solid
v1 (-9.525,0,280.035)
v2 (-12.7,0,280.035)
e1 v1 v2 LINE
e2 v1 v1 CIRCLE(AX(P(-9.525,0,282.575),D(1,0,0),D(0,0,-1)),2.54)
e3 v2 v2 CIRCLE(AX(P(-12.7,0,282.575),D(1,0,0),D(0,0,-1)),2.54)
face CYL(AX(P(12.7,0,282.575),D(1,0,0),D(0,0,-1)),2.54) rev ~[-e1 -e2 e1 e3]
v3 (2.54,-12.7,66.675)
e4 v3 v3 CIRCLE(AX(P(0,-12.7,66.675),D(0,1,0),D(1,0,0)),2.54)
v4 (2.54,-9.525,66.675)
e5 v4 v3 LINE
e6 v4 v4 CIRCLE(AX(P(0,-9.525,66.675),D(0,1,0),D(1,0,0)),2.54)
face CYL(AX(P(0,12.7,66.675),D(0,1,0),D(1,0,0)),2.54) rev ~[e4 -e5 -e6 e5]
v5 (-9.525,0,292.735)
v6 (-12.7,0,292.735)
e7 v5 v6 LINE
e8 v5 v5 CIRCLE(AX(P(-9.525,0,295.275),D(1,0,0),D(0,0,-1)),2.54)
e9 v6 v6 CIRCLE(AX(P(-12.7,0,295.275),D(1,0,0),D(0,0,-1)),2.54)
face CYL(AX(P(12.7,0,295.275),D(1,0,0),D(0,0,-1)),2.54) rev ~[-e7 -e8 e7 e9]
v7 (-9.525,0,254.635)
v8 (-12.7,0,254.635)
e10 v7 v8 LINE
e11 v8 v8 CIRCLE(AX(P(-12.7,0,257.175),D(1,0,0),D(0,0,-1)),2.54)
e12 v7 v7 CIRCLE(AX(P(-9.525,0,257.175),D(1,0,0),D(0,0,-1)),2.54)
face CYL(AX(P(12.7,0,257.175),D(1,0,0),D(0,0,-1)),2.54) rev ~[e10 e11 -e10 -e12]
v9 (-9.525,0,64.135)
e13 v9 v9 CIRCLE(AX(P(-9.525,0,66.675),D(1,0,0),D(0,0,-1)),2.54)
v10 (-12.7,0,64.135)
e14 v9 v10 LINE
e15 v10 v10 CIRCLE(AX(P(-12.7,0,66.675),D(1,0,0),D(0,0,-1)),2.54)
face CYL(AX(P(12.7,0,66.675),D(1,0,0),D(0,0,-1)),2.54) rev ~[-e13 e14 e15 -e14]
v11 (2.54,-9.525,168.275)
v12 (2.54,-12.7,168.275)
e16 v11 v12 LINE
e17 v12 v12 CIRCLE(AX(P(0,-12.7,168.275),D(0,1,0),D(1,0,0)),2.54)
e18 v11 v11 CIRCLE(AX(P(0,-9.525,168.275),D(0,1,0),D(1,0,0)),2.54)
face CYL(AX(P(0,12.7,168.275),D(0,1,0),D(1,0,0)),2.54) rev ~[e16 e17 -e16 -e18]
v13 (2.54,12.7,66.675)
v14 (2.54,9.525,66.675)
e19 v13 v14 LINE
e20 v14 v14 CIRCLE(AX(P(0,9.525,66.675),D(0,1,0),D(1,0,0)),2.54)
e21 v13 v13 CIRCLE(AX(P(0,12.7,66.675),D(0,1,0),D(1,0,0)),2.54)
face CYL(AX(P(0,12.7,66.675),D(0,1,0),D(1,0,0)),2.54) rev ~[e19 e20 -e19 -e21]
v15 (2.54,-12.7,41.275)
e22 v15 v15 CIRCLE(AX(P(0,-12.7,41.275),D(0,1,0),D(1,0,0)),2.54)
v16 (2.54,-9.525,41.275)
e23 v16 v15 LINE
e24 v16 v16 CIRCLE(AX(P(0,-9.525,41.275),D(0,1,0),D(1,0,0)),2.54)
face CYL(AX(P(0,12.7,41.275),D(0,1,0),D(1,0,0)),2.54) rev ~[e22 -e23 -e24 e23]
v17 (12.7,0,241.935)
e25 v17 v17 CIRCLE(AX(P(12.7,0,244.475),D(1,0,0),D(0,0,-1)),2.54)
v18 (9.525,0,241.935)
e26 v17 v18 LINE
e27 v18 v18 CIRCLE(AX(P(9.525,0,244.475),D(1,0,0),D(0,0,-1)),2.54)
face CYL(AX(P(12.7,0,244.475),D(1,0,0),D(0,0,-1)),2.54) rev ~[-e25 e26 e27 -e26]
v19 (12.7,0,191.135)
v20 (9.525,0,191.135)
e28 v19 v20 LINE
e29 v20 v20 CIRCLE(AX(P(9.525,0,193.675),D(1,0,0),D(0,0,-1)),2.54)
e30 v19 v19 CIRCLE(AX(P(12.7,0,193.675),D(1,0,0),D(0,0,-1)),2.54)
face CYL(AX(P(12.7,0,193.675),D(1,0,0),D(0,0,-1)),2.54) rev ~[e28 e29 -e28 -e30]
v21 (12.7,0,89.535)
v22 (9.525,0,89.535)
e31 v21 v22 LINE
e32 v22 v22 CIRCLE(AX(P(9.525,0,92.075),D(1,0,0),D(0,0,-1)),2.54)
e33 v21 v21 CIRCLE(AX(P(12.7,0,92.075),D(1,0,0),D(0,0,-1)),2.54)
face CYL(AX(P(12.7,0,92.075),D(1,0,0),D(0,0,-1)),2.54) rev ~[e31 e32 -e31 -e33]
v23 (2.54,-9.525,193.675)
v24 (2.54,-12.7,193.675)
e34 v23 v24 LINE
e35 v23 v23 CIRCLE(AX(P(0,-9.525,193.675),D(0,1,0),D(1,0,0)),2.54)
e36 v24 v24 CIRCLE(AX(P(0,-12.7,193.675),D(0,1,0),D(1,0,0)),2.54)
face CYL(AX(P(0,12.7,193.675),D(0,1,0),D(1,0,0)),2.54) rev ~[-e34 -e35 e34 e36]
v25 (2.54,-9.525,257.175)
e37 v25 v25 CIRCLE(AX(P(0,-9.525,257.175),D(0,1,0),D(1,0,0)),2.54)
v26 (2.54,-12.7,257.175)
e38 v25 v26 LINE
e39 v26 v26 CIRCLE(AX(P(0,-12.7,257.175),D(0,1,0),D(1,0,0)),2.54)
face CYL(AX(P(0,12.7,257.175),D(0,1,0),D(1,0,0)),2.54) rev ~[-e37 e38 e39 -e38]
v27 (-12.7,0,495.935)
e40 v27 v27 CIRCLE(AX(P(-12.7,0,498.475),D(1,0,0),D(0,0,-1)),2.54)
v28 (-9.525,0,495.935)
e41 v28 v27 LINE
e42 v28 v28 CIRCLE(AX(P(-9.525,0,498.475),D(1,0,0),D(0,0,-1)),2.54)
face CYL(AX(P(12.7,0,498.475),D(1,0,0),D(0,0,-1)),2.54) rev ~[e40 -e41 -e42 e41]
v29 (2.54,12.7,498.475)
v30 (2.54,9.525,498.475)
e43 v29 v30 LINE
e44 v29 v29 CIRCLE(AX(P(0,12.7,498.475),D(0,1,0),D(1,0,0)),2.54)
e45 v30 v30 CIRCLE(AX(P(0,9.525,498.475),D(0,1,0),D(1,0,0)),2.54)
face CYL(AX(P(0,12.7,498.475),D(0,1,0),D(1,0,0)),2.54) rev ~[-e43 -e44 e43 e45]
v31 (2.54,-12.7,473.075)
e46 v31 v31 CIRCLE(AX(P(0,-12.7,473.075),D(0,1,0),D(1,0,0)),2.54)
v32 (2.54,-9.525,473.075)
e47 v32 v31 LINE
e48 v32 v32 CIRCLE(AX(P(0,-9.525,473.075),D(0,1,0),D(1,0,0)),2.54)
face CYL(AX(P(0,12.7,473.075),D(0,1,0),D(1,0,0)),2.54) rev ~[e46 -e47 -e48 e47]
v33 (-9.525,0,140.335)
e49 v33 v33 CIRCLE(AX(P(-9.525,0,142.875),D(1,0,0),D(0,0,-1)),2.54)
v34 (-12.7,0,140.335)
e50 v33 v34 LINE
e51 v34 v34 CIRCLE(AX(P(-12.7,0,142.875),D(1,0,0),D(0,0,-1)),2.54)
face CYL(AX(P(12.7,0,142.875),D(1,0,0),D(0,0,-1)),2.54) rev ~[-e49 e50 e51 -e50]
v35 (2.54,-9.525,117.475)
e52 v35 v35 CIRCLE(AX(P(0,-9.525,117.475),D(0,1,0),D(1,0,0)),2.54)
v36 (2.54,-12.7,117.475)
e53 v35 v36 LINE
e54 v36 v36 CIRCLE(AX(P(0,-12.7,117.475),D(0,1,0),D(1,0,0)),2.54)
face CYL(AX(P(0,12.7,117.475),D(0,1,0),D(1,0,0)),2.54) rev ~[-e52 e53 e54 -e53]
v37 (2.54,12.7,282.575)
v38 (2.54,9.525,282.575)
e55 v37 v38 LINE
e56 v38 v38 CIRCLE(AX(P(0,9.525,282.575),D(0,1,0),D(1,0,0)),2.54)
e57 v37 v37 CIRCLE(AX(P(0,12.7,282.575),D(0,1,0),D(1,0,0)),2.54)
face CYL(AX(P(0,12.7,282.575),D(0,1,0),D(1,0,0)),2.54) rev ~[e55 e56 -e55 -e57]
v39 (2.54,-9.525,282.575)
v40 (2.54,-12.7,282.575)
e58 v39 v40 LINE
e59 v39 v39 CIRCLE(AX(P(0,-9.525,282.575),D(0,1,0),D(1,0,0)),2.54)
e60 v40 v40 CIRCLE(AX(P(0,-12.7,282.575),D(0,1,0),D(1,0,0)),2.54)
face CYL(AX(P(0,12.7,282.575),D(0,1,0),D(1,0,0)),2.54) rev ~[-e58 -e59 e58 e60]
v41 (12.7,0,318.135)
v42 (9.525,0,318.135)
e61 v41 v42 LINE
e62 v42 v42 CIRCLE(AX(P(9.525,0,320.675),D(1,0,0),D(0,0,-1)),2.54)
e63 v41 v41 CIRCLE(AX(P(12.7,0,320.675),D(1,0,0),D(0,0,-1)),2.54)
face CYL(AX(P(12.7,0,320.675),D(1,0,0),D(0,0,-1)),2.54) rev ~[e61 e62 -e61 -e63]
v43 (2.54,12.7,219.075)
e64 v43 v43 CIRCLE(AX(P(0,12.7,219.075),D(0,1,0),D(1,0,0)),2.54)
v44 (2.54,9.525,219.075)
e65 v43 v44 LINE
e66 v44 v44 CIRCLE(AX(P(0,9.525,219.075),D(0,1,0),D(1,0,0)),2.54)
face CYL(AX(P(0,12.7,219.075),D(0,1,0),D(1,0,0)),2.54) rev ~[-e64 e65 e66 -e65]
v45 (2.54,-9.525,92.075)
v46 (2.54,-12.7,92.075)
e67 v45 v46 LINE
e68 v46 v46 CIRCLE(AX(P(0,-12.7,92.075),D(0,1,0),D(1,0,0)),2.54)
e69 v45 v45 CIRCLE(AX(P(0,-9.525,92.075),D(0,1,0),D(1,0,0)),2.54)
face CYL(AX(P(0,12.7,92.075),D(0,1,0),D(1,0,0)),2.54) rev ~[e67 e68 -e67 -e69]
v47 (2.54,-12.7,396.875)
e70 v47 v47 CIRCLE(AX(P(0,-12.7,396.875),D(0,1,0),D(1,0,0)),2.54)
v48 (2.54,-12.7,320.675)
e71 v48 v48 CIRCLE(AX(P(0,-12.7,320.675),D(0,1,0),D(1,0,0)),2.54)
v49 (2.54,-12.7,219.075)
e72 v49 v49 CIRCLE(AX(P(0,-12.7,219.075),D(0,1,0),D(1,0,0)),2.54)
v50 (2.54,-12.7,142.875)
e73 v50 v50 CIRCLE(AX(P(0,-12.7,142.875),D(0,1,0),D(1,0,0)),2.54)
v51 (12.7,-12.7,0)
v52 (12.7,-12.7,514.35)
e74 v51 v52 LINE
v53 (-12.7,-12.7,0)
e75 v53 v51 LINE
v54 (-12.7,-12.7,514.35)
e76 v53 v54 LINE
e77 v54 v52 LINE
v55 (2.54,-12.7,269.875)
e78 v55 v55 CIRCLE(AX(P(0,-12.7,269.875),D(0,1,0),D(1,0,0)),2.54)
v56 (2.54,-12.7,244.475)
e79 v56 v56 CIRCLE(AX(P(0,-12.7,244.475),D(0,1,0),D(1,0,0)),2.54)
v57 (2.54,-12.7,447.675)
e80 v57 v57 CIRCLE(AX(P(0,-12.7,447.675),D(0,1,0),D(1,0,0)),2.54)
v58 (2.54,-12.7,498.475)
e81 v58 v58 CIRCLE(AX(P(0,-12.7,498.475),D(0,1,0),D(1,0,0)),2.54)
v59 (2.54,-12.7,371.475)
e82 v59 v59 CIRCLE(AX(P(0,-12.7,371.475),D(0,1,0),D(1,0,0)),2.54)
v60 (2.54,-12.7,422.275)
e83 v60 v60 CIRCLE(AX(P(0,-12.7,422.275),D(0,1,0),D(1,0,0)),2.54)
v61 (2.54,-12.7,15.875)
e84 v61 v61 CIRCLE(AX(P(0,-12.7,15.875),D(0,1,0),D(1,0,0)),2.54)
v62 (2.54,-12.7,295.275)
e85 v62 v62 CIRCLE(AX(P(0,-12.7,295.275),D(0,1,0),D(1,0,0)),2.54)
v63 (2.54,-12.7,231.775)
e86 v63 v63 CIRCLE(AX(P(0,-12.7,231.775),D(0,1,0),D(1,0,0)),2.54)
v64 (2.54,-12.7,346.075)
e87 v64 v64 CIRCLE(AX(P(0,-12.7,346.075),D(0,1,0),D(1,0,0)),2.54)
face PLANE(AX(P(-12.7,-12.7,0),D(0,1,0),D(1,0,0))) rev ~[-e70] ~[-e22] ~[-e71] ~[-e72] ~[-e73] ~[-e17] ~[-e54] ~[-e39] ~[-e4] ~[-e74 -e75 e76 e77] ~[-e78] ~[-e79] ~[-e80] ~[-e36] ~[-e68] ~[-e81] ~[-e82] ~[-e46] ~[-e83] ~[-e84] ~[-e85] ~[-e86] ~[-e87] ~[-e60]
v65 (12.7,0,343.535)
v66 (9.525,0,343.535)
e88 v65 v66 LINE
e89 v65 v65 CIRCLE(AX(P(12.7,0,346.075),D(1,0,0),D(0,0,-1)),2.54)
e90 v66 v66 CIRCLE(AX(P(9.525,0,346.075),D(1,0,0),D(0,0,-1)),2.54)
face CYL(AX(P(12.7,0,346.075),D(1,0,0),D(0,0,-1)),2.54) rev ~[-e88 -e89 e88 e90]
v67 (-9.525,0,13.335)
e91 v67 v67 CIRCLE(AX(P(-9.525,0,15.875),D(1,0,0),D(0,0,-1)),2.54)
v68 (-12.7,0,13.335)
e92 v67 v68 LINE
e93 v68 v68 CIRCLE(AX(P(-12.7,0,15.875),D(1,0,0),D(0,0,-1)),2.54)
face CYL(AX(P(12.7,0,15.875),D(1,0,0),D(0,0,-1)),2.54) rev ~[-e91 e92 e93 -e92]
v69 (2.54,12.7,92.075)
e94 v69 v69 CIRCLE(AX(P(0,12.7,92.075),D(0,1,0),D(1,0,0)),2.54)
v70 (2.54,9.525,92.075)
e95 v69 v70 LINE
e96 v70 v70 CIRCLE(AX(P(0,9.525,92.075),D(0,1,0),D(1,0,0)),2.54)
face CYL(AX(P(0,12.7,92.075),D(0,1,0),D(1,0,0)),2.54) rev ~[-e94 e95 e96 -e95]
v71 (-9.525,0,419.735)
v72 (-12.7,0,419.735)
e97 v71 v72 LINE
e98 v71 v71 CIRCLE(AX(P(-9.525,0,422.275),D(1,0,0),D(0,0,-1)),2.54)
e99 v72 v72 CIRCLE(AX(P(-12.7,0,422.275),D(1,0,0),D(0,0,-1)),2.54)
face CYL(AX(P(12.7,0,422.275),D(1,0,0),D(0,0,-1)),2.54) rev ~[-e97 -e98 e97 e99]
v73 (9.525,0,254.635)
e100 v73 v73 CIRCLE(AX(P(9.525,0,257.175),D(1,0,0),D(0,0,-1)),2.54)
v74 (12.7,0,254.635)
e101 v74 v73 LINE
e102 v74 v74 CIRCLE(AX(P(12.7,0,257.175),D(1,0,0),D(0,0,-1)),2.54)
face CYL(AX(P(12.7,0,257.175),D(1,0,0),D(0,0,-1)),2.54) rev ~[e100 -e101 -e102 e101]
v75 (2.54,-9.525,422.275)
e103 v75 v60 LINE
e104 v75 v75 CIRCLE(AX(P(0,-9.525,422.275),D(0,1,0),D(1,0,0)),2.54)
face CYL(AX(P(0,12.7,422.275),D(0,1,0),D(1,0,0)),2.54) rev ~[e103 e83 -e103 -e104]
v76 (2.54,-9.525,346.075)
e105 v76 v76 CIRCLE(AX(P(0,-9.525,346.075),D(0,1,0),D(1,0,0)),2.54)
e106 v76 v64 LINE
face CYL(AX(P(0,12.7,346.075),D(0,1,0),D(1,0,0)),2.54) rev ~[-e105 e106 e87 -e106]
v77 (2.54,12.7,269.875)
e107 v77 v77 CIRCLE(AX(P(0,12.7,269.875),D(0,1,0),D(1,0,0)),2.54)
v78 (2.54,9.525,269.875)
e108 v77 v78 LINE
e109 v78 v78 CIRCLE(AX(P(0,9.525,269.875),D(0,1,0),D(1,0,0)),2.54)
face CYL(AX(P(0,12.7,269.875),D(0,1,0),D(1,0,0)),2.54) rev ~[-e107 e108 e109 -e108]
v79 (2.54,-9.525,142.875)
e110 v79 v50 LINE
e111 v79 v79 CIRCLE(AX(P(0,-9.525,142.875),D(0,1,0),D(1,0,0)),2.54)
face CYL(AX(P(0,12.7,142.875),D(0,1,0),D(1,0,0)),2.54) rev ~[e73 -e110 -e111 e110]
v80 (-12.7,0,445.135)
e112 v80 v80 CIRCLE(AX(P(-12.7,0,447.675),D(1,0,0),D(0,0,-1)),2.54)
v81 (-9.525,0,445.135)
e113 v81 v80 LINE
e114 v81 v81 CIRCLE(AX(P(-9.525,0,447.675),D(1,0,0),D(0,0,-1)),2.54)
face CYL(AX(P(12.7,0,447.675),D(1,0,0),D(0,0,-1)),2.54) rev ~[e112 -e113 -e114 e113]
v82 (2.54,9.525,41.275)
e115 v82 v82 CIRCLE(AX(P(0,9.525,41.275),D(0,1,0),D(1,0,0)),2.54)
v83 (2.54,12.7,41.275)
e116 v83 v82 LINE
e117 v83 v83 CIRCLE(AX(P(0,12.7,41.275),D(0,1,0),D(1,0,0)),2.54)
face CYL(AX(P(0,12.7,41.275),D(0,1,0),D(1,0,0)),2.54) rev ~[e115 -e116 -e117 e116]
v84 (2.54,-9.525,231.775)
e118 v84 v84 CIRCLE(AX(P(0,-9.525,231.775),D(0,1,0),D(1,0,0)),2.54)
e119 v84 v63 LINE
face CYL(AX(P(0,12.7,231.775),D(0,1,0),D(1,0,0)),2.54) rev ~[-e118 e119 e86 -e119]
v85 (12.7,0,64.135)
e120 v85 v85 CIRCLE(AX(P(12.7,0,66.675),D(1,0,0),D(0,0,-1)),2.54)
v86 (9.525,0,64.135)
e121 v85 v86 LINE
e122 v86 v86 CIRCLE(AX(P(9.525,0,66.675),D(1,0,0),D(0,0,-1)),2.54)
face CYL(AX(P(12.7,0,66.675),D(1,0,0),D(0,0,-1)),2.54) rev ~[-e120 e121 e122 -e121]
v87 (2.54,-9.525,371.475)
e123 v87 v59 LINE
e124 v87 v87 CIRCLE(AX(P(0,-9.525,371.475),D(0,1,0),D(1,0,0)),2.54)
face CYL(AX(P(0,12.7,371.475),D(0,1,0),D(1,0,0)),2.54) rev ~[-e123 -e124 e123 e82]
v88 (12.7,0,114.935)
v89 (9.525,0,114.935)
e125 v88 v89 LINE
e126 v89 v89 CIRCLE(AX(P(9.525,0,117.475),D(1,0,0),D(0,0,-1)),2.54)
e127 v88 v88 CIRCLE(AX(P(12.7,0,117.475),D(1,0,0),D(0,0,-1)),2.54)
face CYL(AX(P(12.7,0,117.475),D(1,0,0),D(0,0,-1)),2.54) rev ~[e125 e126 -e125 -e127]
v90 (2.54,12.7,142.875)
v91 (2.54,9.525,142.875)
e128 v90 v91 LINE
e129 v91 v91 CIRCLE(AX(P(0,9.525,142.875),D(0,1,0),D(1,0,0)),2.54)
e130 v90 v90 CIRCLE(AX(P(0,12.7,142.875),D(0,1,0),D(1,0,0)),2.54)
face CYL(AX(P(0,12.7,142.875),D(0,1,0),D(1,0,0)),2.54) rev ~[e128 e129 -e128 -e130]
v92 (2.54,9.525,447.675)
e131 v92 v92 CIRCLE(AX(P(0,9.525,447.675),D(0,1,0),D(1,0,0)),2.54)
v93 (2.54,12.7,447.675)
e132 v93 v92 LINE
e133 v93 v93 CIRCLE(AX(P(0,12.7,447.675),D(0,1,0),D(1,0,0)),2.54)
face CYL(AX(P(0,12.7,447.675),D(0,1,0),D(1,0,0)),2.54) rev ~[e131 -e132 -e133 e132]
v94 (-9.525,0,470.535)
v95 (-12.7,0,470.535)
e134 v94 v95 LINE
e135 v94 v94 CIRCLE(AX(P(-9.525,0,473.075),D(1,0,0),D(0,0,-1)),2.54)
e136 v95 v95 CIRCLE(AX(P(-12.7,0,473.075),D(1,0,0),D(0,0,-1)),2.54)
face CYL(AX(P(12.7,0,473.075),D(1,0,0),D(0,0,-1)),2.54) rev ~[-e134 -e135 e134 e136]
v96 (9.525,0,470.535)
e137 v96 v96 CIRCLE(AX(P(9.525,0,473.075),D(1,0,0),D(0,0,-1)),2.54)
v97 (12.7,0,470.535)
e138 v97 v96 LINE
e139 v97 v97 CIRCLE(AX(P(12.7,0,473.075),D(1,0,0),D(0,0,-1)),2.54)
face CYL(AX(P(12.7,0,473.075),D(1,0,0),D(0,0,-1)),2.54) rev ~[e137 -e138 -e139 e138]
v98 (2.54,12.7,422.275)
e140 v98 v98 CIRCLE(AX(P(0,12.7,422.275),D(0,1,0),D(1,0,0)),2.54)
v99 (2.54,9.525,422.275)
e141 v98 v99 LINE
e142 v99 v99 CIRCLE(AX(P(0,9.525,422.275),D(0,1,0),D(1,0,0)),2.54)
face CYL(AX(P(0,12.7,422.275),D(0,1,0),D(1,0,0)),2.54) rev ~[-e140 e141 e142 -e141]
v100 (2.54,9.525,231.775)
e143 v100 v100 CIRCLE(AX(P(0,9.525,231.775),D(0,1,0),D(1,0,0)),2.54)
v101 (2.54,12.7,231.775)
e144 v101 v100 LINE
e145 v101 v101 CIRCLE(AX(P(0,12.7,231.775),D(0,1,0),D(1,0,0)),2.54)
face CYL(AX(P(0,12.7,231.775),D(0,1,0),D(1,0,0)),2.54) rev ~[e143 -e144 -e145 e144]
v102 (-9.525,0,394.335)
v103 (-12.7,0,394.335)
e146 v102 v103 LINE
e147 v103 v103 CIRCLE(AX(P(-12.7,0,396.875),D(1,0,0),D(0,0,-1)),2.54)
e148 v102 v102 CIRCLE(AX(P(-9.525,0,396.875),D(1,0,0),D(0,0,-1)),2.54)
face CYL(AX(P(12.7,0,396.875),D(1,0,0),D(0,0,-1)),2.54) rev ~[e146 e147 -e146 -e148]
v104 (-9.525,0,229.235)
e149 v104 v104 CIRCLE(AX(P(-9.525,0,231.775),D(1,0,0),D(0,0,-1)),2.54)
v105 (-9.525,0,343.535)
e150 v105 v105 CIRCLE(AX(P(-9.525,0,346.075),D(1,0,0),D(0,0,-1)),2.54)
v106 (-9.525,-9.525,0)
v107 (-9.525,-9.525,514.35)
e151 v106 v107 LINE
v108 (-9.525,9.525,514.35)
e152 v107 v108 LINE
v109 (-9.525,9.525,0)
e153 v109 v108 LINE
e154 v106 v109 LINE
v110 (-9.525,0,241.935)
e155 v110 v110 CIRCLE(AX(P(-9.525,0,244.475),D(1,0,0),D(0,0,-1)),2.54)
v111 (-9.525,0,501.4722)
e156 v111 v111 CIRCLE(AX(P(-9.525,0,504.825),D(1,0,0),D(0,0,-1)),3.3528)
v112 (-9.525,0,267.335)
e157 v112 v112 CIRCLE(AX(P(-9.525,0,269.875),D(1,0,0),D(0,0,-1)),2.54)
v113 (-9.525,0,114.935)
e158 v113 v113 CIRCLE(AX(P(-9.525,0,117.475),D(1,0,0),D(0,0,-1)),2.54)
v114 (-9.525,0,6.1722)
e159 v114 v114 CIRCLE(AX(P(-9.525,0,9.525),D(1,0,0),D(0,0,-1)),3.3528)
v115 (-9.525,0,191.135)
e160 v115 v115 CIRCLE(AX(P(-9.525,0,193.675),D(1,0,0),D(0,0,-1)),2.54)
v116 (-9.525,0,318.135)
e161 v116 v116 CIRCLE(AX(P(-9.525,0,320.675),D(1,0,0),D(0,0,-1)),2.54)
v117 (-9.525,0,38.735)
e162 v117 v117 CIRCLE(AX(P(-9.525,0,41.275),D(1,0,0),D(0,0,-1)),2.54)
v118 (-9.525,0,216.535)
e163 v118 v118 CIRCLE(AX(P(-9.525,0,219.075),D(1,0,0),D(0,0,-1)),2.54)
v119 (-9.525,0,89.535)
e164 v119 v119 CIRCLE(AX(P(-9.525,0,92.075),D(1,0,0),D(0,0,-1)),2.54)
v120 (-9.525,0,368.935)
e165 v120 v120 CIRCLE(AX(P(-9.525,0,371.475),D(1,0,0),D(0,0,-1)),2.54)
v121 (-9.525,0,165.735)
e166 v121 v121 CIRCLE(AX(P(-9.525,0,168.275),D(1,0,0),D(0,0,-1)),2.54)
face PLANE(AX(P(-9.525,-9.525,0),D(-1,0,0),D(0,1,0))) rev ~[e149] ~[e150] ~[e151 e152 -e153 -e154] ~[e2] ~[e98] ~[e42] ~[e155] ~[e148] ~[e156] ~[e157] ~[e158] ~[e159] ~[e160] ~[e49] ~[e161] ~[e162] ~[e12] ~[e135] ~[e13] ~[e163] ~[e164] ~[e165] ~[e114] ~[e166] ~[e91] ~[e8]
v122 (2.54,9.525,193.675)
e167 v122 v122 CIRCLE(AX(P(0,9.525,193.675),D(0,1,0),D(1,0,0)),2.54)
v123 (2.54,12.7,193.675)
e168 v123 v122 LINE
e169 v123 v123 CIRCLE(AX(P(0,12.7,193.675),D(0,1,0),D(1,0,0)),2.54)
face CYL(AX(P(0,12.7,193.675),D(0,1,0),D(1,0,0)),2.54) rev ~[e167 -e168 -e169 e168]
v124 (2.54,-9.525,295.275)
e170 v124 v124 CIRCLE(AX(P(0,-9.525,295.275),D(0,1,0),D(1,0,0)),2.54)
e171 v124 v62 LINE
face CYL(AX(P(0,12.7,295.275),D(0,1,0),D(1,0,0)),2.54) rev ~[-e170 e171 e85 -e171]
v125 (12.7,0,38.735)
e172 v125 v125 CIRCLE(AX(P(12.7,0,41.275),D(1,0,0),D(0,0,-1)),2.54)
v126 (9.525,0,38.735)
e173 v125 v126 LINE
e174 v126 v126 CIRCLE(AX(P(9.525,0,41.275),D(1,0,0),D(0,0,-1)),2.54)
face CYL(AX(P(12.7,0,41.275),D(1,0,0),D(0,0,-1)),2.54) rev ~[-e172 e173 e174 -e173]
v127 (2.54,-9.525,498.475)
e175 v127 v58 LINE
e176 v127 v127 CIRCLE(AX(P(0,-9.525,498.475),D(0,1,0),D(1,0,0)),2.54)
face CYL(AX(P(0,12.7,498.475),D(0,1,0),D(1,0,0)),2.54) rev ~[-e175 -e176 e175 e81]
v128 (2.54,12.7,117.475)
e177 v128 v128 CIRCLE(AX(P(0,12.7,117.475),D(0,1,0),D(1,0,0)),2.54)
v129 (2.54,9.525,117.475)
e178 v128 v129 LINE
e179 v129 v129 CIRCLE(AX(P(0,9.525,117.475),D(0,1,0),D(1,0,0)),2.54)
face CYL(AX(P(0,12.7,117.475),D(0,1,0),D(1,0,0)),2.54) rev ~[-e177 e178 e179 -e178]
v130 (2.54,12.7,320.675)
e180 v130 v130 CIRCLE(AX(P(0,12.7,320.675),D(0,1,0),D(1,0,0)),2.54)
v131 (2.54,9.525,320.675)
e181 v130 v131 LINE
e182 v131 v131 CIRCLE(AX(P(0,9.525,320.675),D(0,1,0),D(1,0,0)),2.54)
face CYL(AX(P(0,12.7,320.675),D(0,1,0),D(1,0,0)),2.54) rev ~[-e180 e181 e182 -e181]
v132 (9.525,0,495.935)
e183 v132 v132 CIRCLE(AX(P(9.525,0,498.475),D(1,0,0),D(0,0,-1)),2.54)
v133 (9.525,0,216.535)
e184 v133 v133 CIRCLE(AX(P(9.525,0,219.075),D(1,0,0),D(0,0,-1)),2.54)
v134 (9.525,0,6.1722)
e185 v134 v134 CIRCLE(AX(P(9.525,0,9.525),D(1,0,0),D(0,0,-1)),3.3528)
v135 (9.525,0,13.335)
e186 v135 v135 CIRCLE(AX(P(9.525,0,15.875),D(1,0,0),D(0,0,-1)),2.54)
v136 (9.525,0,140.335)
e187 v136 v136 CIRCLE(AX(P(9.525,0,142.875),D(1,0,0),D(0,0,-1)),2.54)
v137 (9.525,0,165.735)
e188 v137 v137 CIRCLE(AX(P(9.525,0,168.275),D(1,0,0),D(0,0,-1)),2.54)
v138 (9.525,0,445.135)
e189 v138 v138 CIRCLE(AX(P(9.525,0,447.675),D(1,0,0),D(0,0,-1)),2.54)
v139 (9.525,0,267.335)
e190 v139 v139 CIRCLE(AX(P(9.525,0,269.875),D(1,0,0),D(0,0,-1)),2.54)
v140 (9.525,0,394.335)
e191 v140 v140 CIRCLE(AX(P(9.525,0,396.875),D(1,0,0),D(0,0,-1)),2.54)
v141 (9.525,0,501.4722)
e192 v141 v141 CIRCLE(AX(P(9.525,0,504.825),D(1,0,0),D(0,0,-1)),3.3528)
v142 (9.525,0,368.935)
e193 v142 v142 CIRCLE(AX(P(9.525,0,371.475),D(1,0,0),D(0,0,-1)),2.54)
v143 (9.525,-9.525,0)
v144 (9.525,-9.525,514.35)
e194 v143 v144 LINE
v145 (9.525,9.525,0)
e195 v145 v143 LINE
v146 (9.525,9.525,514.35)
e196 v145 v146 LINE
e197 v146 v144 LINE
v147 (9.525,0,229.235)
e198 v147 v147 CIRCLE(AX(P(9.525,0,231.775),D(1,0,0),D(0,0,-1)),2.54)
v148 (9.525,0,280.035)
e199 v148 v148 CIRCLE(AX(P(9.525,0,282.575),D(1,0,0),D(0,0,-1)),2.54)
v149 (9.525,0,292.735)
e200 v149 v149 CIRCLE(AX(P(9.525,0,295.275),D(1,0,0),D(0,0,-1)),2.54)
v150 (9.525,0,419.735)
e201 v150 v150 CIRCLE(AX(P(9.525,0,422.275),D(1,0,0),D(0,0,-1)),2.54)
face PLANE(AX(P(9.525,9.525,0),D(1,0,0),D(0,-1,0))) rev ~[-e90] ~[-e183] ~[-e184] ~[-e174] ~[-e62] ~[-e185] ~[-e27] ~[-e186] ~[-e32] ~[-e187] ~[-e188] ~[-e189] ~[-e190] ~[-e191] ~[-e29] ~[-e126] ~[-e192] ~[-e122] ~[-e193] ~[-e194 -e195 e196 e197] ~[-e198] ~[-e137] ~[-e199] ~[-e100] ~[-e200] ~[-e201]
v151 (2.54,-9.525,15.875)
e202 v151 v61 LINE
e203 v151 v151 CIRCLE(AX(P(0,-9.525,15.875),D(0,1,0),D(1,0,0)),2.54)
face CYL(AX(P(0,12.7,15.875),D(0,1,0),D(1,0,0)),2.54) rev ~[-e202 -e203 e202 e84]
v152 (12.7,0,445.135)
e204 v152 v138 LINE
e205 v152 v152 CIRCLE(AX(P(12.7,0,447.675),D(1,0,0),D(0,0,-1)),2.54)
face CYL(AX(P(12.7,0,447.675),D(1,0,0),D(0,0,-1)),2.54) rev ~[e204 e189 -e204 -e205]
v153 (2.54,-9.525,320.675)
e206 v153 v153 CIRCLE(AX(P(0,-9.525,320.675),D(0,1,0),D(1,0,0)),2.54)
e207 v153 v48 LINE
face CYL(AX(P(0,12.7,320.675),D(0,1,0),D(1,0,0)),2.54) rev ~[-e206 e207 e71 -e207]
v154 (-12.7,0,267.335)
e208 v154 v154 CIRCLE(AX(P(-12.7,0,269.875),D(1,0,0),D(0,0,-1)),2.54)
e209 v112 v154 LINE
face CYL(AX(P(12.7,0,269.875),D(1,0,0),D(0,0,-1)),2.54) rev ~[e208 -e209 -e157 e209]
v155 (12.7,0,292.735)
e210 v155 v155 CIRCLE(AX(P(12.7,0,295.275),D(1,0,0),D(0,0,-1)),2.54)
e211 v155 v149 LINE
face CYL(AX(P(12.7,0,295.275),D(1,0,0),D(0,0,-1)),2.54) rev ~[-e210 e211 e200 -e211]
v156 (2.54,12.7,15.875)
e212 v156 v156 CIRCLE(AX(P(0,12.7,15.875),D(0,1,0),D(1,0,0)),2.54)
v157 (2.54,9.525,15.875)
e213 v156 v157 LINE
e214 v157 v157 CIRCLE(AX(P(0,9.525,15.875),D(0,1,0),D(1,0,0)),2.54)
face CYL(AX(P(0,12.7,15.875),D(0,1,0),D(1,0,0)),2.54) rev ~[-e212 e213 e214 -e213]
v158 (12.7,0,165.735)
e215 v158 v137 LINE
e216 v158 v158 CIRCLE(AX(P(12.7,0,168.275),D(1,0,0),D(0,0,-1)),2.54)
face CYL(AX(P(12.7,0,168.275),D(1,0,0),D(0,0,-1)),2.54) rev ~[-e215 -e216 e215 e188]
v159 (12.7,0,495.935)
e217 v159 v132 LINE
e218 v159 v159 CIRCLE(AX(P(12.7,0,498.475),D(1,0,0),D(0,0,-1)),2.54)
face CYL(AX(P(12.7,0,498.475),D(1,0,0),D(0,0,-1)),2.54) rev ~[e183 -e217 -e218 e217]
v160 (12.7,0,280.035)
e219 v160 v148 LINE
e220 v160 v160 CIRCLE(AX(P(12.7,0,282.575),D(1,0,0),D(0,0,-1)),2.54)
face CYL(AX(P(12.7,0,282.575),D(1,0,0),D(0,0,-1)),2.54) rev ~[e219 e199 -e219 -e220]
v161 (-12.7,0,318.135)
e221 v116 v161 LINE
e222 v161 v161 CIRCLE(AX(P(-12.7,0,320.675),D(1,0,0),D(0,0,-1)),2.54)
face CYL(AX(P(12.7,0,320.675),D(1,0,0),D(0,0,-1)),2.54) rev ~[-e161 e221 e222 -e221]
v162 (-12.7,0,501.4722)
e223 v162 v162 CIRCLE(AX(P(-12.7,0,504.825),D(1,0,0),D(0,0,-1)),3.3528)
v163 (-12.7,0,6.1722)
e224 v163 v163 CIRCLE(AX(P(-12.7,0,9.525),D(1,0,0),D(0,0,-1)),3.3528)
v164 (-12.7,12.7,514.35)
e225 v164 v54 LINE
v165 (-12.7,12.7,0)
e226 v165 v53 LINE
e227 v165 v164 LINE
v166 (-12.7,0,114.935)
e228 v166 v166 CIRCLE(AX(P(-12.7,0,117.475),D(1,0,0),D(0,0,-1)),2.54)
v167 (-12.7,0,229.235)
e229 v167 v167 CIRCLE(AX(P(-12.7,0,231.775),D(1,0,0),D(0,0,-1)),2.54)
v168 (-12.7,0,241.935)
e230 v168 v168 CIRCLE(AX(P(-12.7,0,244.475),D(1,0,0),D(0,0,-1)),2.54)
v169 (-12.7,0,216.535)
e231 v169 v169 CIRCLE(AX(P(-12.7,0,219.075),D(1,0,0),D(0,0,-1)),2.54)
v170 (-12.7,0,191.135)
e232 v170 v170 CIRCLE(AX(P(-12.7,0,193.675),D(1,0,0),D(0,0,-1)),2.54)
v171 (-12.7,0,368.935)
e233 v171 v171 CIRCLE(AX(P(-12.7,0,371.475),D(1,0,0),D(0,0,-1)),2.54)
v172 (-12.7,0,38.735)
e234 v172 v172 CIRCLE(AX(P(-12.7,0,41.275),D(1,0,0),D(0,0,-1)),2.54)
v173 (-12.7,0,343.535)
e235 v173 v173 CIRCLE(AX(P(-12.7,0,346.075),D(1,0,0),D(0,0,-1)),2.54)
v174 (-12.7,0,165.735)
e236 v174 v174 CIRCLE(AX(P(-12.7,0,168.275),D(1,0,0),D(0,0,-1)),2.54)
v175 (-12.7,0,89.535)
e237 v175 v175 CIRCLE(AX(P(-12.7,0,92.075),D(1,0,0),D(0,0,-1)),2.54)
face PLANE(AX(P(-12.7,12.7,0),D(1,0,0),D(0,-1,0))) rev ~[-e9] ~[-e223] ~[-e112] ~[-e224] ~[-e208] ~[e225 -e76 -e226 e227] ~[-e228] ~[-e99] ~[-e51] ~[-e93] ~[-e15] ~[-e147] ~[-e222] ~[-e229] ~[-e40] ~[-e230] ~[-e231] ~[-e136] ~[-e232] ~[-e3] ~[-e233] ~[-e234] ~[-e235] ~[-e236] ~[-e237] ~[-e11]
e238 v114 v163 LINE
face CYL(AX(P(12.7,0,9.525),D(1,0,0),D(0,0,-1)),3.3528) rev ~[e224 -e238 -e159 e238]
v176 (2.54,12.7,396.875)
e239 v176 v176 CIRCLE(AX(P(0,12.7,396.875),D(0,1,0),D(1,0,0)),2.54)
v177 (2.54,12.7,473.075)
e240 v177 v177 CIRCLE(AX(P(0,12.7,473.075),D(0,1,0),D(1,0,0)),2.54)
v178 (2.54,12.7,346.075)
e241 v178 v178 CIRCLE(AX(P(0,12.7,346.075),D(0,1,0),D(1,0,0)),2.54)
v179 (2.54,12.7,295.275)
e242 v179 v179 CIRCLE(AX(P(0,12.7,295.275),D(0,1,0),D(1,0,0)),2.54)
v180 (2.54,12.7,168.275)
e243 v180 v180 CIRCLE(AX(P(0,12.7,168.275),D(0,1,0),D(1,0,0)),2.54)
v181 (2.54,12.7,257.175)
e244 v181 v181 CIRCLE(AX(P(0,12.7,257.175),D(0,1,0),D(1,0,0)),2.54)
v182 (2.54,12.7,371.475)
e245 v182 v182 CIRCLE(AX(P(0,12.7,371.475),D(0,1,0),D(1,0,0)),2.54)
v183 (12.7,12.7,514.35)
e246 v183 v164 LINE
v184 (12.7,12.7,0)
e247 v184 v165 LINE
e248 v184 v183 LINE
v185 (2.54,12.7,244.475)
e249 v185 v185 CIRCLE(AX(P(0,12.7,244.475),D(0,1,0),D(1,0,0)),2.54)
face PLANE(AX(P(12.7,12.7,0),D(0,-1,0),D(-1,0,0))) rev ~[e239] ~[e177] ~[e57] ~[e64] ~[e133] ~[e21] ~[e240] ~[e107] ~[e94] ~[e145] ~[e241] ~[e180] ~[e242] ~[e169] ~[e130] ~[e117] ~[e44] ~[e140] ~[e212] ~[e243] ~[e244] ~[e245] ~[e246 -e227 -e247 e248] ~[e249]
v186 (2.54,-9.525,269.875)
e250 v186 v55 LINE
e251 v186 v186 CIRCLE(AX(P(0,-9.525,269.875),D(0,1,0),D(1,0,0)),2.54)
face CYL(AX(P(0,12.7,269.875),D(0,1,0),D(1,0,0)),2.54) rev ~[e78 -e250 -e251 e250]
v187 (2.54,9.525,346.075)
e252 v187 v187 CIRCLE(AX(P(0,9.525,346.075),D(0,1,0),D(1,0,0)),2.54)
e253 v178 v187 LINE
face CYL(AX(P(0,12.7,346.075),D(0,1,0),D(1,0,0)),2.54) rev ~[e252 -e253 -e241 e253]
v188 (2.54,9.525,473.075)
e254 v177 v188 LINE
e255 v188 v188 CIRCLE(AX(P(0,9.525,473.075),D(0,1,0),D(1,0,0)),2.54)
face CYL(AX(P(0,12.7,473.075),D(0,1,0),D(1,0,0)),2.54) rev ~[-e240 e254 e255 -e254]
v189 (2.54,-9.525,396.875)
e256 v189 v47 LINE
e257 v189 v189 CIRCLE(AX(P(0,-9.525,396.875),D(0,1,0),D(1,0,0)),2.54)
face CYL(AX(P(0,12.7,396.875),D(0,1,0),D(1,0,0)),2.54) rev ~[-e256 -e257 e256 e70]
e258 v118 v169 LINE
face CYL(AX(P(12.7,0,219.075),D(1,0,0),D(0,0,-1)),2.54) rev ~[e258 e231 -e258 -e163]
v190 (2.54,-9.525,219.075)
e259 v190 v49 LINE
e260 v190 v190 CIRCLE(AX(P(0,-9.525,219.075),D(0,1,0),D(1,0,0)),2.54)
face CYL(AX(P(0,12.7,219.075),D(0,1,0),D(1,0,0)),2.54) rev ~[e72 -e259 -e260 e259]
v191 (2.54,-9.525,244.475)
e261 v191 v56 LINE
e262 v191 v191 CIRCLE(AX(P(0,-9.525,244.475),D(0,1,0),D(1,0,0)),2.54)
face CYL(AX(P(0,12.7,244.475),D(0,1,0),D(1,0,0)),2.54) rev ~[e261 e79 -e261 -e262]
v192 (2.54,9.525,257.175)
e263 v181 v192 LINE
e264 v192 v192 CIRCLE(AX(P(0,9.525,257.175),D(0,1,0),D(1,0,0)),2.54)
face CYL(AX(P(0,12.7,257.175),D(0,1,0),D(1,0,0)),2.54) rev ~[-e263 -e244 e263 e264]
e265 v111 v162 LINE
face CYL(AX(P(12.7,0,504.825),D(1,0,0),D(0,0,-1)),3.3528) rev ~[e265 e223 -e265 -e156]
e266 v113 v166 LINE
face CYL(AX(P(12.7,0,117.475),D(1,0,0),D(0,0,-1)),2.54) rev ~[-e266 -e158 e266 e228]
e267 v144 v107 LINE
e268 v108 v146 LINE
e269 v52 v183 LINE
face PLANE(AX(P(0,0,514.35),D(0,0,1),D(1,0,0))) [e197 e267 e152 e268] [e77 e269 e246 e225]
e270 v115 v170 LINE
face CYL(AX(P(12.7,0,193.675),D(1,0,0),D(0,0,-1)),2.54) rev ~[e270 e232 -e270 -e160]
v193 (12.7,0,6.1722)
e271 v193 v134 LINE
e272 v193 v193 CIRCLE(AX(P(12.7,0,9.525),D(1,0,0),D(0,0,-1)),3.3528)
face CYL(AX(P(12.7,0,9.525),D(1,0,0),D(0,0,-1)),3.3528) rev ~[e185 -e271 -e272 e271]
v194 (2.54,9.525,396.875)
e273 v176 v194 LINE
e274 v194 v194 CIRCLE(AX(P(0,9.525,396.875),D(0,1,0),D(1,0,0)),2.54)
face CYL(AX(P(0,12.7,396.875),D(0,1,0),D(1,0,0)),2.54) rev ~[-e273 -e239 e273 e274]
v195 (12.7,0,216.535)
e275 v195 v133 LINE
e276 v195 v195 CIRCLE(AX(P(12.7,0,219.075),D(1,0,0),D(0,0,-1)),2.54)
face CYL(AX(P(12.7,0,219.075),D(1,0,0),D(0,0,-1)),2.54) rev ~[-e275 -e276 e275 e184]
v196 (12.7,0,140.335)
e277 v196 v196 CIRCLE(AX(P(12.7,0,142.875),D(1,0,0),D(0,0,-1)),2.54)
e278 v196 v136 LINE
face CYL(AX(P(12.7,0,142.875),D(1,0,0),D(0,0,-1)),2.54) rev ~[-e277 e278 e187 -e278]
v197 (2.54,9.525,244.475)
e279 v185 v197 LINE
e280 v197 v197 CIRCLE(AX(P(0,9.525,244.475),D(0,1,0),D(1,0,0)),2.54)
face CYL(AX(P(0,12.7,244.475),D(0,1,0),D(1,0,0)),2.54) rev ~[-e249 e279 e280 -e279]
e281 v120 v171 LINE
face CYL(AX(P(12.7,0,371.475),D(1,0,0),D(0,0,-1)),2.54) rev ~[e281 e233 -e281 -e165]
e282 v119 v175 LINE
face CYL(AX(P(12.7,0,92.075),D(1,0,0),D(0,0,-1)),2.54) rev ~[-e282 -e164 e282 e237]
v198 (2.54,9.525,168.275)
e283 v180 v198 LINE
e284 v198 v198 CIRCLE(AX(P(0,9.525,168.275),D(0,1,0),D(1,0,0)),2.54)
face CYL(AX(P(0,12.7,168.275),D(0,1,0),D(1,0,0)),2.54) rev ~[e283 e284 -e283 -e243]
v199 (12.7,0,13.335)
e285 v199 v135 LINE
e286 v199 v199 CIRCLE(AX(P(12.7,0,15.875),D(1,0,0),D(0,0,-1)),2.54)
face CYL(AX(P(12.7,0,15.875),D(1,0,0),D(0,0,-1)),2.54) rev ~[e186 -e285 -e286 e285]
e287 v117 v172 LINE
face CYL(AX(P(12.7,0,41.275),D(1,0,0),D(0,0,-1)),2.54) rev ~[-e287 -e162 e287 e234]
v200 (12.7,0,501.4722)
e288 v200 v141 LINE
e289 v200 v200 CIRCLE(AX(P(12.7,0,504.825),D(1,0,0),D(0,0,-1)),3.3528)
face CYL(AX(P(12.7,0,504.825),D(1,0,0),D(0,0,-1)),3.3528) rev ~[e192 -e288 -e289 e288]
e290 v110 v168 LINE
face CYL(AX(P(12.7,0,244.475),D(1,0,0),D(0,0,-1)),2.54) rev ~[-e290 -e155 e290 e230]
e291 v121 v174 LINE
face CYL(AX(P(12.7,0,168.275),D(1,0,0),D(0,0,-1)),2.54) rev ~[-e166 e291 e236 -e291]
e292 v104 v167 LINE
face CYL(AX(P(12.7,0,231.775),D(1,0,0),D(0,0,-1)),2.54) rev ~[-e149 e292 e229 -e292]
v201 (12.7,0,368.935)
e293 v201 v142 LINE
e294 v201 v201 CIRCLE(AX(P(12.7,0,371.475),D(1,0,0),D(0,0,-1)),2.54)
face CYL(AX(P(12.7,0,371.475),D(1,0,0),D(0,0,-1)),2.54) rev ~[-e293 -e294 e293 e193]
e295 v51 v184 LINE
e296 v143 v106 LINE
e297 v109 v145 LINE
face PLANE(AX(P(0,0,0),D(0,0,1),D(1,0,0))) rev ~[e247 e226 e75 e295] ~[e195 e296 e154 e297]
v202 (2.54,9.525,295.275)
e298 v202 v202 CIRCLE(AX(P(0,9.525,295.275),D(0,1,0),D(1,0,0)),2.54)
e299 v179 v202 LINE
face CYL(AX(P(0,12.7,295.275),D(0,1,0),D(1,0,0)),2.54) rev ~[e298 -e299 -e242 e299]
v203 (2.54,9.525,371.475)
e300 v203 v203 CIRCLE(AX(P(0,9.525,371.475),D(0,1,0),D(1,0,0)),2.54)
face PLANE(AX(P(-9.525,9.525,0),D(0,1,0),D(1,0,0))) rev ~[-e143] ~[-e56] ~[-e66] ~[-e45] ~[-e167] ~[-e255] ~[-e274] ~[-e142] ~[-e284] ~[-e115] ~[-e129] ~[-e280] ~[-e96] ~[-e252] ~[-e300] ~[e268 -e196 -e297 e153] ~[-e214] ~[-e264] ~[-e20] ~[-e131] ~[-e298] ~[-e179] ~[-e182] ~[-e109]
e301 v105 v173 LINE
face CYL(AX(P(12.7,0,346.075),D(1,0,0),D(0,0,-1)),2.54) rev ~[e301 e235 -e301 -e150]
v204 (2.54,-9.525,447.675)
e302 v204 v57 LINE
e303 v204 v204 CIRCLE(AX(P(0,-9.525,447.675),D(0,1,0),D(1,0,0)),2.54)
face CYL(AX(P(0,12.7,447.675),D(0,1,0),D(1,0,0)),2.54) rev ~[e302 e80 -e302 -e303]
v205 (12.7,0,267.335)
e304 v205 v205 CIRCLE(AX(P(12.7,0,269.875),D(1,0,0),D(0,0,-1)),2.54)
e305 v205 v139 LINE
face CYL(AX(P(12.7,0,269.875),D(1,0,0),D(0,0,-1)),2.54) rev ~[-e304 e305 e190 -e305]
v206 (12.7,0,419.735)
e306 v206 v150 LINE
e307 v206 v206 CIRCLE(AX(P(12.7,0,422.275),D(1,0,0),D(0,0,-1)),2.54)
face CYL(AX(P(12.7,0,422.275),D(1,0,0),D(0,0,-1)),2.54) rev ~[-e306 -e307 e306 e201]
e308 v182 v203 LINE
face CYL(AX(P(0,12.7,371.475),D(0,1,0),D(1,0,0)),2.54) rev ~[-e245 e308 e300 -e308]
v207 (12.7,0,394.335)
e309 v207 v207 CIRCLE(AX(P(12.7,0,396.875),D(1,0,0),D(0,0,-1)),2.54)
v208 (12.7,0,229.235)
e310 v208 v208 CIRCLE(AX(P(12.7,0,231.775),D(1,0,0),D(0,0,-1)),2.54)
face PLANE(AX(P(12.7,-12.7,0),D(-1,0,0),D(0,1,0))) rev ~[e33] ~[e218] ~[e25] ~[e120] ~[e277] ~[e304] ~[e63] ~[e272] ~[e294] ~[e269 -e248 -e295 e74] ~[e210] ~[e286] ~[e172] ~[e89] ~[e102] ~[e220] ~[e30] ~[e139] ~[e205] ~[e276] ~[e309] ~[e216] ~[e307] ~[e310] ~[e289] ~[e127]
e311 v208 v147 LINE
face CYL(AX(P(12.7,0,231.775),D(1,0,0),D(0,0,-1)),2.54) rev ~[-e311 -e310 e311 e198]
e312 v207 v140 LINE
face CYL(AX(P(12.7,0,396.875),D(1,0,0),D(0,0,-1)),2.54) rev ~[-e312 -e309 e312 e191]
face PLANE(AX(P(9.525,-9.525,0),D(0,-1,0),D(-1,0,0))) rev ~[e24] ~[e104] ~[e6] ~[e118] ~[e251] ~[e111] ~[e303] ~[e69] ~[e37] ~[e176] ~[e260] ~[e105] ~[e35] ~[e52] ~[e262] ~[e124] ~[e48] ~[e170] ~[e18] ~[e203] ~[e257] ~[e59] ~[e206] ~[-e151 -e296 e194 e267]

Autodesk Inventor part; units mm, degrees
ref_plane "YZ Plane" through (0, 0, 0) normal (1, 0, 0) x (0, 1, 0)
ref_plane "XZ Plane" through (0, 0, 0) normal (0, 1, 0) x (-1, 0, 0)
ref_plane "XY Plane" through (0, 0, 0) normal (0, 0, 1) x (1, 0, 0)
sketch "Sketch1" plane through (0, 0, 0) normal (0, 0, 1) x (1, 0, 0)
  line L0 (-12.7, -12.7) -> (12.7, -12.7)
  line L1 (12.7, -12.7) -> (12.7, 12.7)
  line L2 (12.7, 12.7) -> (-12.7, 12.7)
  line L3 (-12.7, 12.7) -> (-12.7, -12.7)
  line L4 (-12.7, -12.7) -> (12.7, 12.7) construction
  line L5 (12.7, -12.7) -> (-12.7, 12.7) construction
  line L6 (-9.525, 9.525) -> (9.525, 9.525)
  line L7 (9.525, 9.525) -> (9.525, -9.525)
  line L8 (9.525, -9.525) -> (-9.525, -9.525)
  line L9 (-9.525, -9.525) -> (-9.525, 9.525)
  point P0 (0, 0)
  dimension "d0" = 25.4
  dimension "d1" = 25.4
  dimension "d2" = 3.175
extrude "Extrusion1" add sketch "Sketch1" along normal blind 514.35
sketch "Sketch2" plane through (-12.7, 12.7, 0) normal (0, 1, 0) x (1, 0, 0)
  circle A0 centre (12.7, -15.875) radius 2.54
  line L0 (0, 0) -> (0, -514.35) projected
  line L1 (25.4, 0) -> (0, 0) projected
  circle A1 centre (12.7, -41.275) radius 2.54
  circle A2 centre (12.7, -66.675) radius 2.54
  circle A3 centre (12.7, -92.075) radius 2.54
  circle A4 centre (12.7, -117.475) radius 2.54
  circle A5 centre (12.7, -142.875) radius 2.54
  circle A6 centre (12.7, -168.275) radius 2.54
  circle A7 centre (12.7, -193.675) radius 2.54
  circle A8 centre (12.7, -219.075) radius 2.54
  circle A9 centre (12.7, -244.475) radius 2.54
  circle A10 centre (12.7, -269.875) radius 2.54
  circle A11 centre (12.7, -295.275) radius 2.54
  circle A12 centre (12.7, -320.675) radius 2.54
  circle A13 centre (12.7, -346.075) radius 2.54
  circle A14 centre (12.7, -371.475) radius 2.54
  circle A15 centre (12.7, -396.875) radius 2.54
  circle A16 centre (12.7, -422.275) radius 2.54
  circle A17 centre (12.7, -447.675) radius 2.54
  circle A18 centre (12.7, -473.075) radius 2.54
  circle A19 centre (12.7, -498.475) radius 2.54
  point P0 (12.7, 0)
  dimension "d5" = 12.7
  dimension "d6" = 15.875
  dimension "d7" = 5.08
  dimension "d10" = 25.4
extrude "Extrusion2" cut sketch "Sketch2" against normal through all
sketch "Sketch3" plane through (12.7, -12.7, 0) normal (1, 0, 0) x (0, 0, -1)
  circle A0 centre (-15.875, 12.7) radius 2.54
  line L0 (0, 0) -> (-514.35, 0) projected
  line L1 (0, 0) -> (0, 25.4) projected
  circle A1 centre (-41.275, 12.7) radius 2.54
  circle A2 centre (-66.675, 12.7) radius 2.54
  circle A3 centre (-92.075, 12.7) radius 2.54
  circle A4 centre (-117.475, 12.7) radius 2.54
  circle A5 centre (-142.875, 12.7) radius 2.54
  circle A6 centre (-168.275, 12.7) radius 2.54
  circle A7 centre (-193.675, 12.7) radius 2.54
  circle A8 centre (-219.075, 12.7) radius 2.54
  circle A9 centre (-244.475, 12.7) radius 2.54
  circle A10 centre (-269.875, 12.7) radius 2.54
  circle A11 centre (-295.275, 12.7) radius 2.54
  circle A12 centre (-320.675, 12.7) radius 2.54
  circle A13 centre (-346.075, 12.7) radius 2.54
  circle A14 centre (-371.475, 12.7) radius 2.54
  circle A15 centre (-396.875, 12.7) radius 2.54
  circle A16 centre (-422.275, 12.7) radius 2.54
  circle A17 centre (-447.675, 12.7) radius 2.54
  circle A18 centre (-473.075, 12.7) radius 2.54
  circle A19 centre (-498.475, 12.7) radius 2.54
  point P0 (0, 12.7)
  dimension "d17" = 12.7
  dimension "d18" = 15.875
  dimension "d19" = 5.08
  dimension "d22" = 25.4
extrude "Extrusion3" cut sketch "Sketch3" against normal through all
sketch "Sketch4" plane through (-12.7, 12.7, 0) normal (0, 1, 0) x (1, 0, 0)
  point P0 (12.7, 0)
sketch "Sketch5" plane through (12.7, -12.7, 0) normal (1, 0, 0) x (0, 0, -1)
  circle A0 centre (-9.525, 12.7) radius 3.3528 projected
  circle A1 centre (-504.825, 12.7) radius 3.3528 projected
  point P0 (0, 12.7)
extrude "Extrusion4" cut sketch "Sketch5" against normal through all
sketch "Sketch6" plane through (12.7, -12.7, 0) normal (1, 0, 0) x (0, 0, -1)
  circle A0 centre (-282.575, 12.7) radius 2.54
  line L0 (-257.175, -26.6173) -> (-257.175, 80.6593) construction
  line L1 (-514.35, 0) -> (-514.35, 25.4) projected
  circle A1 centre (-320.675, 12.7) radius 2.54 construction
  line L2 (0, 25.4) -> (-514.35, 25.4) projected
  circle A2 centre (-257.175, 12.7) radius 2.54
  circle A3 centre (-231.775, 12.7) radius 2.54
  point P0 (0, 12.7)
  dimension "d31" = 257.175
  dimension "d32" = 38.1
  dimension "d35" = 25.4
extrude "Extrusion5" cut sketch "Sketch6" against normal through all
sketch "Sketch8" plane through (-12.7, 12.7, 0) normal (0, 1, 0) x (1, 0, 0)
  circle A0 centre (12.7, -231.775) radius 2.54
  line L0 (0, 0) -> (0, -514.35) projected
  circle A1 centre (12.7, -219.075) radius 2.54 construction
  circle A2 centre (12.7, -257.175) radius 2.54
  circle A3 centre (12.7, -282.575) radius 2.54
  point P0 (12.7, 0)
  dimension "d42" = 12.7
  dimension "d45" = 25.4
extrude "Extrusion6" cut sketch "Sketch8" against normal through all
properties part number "1x1x20.25"
